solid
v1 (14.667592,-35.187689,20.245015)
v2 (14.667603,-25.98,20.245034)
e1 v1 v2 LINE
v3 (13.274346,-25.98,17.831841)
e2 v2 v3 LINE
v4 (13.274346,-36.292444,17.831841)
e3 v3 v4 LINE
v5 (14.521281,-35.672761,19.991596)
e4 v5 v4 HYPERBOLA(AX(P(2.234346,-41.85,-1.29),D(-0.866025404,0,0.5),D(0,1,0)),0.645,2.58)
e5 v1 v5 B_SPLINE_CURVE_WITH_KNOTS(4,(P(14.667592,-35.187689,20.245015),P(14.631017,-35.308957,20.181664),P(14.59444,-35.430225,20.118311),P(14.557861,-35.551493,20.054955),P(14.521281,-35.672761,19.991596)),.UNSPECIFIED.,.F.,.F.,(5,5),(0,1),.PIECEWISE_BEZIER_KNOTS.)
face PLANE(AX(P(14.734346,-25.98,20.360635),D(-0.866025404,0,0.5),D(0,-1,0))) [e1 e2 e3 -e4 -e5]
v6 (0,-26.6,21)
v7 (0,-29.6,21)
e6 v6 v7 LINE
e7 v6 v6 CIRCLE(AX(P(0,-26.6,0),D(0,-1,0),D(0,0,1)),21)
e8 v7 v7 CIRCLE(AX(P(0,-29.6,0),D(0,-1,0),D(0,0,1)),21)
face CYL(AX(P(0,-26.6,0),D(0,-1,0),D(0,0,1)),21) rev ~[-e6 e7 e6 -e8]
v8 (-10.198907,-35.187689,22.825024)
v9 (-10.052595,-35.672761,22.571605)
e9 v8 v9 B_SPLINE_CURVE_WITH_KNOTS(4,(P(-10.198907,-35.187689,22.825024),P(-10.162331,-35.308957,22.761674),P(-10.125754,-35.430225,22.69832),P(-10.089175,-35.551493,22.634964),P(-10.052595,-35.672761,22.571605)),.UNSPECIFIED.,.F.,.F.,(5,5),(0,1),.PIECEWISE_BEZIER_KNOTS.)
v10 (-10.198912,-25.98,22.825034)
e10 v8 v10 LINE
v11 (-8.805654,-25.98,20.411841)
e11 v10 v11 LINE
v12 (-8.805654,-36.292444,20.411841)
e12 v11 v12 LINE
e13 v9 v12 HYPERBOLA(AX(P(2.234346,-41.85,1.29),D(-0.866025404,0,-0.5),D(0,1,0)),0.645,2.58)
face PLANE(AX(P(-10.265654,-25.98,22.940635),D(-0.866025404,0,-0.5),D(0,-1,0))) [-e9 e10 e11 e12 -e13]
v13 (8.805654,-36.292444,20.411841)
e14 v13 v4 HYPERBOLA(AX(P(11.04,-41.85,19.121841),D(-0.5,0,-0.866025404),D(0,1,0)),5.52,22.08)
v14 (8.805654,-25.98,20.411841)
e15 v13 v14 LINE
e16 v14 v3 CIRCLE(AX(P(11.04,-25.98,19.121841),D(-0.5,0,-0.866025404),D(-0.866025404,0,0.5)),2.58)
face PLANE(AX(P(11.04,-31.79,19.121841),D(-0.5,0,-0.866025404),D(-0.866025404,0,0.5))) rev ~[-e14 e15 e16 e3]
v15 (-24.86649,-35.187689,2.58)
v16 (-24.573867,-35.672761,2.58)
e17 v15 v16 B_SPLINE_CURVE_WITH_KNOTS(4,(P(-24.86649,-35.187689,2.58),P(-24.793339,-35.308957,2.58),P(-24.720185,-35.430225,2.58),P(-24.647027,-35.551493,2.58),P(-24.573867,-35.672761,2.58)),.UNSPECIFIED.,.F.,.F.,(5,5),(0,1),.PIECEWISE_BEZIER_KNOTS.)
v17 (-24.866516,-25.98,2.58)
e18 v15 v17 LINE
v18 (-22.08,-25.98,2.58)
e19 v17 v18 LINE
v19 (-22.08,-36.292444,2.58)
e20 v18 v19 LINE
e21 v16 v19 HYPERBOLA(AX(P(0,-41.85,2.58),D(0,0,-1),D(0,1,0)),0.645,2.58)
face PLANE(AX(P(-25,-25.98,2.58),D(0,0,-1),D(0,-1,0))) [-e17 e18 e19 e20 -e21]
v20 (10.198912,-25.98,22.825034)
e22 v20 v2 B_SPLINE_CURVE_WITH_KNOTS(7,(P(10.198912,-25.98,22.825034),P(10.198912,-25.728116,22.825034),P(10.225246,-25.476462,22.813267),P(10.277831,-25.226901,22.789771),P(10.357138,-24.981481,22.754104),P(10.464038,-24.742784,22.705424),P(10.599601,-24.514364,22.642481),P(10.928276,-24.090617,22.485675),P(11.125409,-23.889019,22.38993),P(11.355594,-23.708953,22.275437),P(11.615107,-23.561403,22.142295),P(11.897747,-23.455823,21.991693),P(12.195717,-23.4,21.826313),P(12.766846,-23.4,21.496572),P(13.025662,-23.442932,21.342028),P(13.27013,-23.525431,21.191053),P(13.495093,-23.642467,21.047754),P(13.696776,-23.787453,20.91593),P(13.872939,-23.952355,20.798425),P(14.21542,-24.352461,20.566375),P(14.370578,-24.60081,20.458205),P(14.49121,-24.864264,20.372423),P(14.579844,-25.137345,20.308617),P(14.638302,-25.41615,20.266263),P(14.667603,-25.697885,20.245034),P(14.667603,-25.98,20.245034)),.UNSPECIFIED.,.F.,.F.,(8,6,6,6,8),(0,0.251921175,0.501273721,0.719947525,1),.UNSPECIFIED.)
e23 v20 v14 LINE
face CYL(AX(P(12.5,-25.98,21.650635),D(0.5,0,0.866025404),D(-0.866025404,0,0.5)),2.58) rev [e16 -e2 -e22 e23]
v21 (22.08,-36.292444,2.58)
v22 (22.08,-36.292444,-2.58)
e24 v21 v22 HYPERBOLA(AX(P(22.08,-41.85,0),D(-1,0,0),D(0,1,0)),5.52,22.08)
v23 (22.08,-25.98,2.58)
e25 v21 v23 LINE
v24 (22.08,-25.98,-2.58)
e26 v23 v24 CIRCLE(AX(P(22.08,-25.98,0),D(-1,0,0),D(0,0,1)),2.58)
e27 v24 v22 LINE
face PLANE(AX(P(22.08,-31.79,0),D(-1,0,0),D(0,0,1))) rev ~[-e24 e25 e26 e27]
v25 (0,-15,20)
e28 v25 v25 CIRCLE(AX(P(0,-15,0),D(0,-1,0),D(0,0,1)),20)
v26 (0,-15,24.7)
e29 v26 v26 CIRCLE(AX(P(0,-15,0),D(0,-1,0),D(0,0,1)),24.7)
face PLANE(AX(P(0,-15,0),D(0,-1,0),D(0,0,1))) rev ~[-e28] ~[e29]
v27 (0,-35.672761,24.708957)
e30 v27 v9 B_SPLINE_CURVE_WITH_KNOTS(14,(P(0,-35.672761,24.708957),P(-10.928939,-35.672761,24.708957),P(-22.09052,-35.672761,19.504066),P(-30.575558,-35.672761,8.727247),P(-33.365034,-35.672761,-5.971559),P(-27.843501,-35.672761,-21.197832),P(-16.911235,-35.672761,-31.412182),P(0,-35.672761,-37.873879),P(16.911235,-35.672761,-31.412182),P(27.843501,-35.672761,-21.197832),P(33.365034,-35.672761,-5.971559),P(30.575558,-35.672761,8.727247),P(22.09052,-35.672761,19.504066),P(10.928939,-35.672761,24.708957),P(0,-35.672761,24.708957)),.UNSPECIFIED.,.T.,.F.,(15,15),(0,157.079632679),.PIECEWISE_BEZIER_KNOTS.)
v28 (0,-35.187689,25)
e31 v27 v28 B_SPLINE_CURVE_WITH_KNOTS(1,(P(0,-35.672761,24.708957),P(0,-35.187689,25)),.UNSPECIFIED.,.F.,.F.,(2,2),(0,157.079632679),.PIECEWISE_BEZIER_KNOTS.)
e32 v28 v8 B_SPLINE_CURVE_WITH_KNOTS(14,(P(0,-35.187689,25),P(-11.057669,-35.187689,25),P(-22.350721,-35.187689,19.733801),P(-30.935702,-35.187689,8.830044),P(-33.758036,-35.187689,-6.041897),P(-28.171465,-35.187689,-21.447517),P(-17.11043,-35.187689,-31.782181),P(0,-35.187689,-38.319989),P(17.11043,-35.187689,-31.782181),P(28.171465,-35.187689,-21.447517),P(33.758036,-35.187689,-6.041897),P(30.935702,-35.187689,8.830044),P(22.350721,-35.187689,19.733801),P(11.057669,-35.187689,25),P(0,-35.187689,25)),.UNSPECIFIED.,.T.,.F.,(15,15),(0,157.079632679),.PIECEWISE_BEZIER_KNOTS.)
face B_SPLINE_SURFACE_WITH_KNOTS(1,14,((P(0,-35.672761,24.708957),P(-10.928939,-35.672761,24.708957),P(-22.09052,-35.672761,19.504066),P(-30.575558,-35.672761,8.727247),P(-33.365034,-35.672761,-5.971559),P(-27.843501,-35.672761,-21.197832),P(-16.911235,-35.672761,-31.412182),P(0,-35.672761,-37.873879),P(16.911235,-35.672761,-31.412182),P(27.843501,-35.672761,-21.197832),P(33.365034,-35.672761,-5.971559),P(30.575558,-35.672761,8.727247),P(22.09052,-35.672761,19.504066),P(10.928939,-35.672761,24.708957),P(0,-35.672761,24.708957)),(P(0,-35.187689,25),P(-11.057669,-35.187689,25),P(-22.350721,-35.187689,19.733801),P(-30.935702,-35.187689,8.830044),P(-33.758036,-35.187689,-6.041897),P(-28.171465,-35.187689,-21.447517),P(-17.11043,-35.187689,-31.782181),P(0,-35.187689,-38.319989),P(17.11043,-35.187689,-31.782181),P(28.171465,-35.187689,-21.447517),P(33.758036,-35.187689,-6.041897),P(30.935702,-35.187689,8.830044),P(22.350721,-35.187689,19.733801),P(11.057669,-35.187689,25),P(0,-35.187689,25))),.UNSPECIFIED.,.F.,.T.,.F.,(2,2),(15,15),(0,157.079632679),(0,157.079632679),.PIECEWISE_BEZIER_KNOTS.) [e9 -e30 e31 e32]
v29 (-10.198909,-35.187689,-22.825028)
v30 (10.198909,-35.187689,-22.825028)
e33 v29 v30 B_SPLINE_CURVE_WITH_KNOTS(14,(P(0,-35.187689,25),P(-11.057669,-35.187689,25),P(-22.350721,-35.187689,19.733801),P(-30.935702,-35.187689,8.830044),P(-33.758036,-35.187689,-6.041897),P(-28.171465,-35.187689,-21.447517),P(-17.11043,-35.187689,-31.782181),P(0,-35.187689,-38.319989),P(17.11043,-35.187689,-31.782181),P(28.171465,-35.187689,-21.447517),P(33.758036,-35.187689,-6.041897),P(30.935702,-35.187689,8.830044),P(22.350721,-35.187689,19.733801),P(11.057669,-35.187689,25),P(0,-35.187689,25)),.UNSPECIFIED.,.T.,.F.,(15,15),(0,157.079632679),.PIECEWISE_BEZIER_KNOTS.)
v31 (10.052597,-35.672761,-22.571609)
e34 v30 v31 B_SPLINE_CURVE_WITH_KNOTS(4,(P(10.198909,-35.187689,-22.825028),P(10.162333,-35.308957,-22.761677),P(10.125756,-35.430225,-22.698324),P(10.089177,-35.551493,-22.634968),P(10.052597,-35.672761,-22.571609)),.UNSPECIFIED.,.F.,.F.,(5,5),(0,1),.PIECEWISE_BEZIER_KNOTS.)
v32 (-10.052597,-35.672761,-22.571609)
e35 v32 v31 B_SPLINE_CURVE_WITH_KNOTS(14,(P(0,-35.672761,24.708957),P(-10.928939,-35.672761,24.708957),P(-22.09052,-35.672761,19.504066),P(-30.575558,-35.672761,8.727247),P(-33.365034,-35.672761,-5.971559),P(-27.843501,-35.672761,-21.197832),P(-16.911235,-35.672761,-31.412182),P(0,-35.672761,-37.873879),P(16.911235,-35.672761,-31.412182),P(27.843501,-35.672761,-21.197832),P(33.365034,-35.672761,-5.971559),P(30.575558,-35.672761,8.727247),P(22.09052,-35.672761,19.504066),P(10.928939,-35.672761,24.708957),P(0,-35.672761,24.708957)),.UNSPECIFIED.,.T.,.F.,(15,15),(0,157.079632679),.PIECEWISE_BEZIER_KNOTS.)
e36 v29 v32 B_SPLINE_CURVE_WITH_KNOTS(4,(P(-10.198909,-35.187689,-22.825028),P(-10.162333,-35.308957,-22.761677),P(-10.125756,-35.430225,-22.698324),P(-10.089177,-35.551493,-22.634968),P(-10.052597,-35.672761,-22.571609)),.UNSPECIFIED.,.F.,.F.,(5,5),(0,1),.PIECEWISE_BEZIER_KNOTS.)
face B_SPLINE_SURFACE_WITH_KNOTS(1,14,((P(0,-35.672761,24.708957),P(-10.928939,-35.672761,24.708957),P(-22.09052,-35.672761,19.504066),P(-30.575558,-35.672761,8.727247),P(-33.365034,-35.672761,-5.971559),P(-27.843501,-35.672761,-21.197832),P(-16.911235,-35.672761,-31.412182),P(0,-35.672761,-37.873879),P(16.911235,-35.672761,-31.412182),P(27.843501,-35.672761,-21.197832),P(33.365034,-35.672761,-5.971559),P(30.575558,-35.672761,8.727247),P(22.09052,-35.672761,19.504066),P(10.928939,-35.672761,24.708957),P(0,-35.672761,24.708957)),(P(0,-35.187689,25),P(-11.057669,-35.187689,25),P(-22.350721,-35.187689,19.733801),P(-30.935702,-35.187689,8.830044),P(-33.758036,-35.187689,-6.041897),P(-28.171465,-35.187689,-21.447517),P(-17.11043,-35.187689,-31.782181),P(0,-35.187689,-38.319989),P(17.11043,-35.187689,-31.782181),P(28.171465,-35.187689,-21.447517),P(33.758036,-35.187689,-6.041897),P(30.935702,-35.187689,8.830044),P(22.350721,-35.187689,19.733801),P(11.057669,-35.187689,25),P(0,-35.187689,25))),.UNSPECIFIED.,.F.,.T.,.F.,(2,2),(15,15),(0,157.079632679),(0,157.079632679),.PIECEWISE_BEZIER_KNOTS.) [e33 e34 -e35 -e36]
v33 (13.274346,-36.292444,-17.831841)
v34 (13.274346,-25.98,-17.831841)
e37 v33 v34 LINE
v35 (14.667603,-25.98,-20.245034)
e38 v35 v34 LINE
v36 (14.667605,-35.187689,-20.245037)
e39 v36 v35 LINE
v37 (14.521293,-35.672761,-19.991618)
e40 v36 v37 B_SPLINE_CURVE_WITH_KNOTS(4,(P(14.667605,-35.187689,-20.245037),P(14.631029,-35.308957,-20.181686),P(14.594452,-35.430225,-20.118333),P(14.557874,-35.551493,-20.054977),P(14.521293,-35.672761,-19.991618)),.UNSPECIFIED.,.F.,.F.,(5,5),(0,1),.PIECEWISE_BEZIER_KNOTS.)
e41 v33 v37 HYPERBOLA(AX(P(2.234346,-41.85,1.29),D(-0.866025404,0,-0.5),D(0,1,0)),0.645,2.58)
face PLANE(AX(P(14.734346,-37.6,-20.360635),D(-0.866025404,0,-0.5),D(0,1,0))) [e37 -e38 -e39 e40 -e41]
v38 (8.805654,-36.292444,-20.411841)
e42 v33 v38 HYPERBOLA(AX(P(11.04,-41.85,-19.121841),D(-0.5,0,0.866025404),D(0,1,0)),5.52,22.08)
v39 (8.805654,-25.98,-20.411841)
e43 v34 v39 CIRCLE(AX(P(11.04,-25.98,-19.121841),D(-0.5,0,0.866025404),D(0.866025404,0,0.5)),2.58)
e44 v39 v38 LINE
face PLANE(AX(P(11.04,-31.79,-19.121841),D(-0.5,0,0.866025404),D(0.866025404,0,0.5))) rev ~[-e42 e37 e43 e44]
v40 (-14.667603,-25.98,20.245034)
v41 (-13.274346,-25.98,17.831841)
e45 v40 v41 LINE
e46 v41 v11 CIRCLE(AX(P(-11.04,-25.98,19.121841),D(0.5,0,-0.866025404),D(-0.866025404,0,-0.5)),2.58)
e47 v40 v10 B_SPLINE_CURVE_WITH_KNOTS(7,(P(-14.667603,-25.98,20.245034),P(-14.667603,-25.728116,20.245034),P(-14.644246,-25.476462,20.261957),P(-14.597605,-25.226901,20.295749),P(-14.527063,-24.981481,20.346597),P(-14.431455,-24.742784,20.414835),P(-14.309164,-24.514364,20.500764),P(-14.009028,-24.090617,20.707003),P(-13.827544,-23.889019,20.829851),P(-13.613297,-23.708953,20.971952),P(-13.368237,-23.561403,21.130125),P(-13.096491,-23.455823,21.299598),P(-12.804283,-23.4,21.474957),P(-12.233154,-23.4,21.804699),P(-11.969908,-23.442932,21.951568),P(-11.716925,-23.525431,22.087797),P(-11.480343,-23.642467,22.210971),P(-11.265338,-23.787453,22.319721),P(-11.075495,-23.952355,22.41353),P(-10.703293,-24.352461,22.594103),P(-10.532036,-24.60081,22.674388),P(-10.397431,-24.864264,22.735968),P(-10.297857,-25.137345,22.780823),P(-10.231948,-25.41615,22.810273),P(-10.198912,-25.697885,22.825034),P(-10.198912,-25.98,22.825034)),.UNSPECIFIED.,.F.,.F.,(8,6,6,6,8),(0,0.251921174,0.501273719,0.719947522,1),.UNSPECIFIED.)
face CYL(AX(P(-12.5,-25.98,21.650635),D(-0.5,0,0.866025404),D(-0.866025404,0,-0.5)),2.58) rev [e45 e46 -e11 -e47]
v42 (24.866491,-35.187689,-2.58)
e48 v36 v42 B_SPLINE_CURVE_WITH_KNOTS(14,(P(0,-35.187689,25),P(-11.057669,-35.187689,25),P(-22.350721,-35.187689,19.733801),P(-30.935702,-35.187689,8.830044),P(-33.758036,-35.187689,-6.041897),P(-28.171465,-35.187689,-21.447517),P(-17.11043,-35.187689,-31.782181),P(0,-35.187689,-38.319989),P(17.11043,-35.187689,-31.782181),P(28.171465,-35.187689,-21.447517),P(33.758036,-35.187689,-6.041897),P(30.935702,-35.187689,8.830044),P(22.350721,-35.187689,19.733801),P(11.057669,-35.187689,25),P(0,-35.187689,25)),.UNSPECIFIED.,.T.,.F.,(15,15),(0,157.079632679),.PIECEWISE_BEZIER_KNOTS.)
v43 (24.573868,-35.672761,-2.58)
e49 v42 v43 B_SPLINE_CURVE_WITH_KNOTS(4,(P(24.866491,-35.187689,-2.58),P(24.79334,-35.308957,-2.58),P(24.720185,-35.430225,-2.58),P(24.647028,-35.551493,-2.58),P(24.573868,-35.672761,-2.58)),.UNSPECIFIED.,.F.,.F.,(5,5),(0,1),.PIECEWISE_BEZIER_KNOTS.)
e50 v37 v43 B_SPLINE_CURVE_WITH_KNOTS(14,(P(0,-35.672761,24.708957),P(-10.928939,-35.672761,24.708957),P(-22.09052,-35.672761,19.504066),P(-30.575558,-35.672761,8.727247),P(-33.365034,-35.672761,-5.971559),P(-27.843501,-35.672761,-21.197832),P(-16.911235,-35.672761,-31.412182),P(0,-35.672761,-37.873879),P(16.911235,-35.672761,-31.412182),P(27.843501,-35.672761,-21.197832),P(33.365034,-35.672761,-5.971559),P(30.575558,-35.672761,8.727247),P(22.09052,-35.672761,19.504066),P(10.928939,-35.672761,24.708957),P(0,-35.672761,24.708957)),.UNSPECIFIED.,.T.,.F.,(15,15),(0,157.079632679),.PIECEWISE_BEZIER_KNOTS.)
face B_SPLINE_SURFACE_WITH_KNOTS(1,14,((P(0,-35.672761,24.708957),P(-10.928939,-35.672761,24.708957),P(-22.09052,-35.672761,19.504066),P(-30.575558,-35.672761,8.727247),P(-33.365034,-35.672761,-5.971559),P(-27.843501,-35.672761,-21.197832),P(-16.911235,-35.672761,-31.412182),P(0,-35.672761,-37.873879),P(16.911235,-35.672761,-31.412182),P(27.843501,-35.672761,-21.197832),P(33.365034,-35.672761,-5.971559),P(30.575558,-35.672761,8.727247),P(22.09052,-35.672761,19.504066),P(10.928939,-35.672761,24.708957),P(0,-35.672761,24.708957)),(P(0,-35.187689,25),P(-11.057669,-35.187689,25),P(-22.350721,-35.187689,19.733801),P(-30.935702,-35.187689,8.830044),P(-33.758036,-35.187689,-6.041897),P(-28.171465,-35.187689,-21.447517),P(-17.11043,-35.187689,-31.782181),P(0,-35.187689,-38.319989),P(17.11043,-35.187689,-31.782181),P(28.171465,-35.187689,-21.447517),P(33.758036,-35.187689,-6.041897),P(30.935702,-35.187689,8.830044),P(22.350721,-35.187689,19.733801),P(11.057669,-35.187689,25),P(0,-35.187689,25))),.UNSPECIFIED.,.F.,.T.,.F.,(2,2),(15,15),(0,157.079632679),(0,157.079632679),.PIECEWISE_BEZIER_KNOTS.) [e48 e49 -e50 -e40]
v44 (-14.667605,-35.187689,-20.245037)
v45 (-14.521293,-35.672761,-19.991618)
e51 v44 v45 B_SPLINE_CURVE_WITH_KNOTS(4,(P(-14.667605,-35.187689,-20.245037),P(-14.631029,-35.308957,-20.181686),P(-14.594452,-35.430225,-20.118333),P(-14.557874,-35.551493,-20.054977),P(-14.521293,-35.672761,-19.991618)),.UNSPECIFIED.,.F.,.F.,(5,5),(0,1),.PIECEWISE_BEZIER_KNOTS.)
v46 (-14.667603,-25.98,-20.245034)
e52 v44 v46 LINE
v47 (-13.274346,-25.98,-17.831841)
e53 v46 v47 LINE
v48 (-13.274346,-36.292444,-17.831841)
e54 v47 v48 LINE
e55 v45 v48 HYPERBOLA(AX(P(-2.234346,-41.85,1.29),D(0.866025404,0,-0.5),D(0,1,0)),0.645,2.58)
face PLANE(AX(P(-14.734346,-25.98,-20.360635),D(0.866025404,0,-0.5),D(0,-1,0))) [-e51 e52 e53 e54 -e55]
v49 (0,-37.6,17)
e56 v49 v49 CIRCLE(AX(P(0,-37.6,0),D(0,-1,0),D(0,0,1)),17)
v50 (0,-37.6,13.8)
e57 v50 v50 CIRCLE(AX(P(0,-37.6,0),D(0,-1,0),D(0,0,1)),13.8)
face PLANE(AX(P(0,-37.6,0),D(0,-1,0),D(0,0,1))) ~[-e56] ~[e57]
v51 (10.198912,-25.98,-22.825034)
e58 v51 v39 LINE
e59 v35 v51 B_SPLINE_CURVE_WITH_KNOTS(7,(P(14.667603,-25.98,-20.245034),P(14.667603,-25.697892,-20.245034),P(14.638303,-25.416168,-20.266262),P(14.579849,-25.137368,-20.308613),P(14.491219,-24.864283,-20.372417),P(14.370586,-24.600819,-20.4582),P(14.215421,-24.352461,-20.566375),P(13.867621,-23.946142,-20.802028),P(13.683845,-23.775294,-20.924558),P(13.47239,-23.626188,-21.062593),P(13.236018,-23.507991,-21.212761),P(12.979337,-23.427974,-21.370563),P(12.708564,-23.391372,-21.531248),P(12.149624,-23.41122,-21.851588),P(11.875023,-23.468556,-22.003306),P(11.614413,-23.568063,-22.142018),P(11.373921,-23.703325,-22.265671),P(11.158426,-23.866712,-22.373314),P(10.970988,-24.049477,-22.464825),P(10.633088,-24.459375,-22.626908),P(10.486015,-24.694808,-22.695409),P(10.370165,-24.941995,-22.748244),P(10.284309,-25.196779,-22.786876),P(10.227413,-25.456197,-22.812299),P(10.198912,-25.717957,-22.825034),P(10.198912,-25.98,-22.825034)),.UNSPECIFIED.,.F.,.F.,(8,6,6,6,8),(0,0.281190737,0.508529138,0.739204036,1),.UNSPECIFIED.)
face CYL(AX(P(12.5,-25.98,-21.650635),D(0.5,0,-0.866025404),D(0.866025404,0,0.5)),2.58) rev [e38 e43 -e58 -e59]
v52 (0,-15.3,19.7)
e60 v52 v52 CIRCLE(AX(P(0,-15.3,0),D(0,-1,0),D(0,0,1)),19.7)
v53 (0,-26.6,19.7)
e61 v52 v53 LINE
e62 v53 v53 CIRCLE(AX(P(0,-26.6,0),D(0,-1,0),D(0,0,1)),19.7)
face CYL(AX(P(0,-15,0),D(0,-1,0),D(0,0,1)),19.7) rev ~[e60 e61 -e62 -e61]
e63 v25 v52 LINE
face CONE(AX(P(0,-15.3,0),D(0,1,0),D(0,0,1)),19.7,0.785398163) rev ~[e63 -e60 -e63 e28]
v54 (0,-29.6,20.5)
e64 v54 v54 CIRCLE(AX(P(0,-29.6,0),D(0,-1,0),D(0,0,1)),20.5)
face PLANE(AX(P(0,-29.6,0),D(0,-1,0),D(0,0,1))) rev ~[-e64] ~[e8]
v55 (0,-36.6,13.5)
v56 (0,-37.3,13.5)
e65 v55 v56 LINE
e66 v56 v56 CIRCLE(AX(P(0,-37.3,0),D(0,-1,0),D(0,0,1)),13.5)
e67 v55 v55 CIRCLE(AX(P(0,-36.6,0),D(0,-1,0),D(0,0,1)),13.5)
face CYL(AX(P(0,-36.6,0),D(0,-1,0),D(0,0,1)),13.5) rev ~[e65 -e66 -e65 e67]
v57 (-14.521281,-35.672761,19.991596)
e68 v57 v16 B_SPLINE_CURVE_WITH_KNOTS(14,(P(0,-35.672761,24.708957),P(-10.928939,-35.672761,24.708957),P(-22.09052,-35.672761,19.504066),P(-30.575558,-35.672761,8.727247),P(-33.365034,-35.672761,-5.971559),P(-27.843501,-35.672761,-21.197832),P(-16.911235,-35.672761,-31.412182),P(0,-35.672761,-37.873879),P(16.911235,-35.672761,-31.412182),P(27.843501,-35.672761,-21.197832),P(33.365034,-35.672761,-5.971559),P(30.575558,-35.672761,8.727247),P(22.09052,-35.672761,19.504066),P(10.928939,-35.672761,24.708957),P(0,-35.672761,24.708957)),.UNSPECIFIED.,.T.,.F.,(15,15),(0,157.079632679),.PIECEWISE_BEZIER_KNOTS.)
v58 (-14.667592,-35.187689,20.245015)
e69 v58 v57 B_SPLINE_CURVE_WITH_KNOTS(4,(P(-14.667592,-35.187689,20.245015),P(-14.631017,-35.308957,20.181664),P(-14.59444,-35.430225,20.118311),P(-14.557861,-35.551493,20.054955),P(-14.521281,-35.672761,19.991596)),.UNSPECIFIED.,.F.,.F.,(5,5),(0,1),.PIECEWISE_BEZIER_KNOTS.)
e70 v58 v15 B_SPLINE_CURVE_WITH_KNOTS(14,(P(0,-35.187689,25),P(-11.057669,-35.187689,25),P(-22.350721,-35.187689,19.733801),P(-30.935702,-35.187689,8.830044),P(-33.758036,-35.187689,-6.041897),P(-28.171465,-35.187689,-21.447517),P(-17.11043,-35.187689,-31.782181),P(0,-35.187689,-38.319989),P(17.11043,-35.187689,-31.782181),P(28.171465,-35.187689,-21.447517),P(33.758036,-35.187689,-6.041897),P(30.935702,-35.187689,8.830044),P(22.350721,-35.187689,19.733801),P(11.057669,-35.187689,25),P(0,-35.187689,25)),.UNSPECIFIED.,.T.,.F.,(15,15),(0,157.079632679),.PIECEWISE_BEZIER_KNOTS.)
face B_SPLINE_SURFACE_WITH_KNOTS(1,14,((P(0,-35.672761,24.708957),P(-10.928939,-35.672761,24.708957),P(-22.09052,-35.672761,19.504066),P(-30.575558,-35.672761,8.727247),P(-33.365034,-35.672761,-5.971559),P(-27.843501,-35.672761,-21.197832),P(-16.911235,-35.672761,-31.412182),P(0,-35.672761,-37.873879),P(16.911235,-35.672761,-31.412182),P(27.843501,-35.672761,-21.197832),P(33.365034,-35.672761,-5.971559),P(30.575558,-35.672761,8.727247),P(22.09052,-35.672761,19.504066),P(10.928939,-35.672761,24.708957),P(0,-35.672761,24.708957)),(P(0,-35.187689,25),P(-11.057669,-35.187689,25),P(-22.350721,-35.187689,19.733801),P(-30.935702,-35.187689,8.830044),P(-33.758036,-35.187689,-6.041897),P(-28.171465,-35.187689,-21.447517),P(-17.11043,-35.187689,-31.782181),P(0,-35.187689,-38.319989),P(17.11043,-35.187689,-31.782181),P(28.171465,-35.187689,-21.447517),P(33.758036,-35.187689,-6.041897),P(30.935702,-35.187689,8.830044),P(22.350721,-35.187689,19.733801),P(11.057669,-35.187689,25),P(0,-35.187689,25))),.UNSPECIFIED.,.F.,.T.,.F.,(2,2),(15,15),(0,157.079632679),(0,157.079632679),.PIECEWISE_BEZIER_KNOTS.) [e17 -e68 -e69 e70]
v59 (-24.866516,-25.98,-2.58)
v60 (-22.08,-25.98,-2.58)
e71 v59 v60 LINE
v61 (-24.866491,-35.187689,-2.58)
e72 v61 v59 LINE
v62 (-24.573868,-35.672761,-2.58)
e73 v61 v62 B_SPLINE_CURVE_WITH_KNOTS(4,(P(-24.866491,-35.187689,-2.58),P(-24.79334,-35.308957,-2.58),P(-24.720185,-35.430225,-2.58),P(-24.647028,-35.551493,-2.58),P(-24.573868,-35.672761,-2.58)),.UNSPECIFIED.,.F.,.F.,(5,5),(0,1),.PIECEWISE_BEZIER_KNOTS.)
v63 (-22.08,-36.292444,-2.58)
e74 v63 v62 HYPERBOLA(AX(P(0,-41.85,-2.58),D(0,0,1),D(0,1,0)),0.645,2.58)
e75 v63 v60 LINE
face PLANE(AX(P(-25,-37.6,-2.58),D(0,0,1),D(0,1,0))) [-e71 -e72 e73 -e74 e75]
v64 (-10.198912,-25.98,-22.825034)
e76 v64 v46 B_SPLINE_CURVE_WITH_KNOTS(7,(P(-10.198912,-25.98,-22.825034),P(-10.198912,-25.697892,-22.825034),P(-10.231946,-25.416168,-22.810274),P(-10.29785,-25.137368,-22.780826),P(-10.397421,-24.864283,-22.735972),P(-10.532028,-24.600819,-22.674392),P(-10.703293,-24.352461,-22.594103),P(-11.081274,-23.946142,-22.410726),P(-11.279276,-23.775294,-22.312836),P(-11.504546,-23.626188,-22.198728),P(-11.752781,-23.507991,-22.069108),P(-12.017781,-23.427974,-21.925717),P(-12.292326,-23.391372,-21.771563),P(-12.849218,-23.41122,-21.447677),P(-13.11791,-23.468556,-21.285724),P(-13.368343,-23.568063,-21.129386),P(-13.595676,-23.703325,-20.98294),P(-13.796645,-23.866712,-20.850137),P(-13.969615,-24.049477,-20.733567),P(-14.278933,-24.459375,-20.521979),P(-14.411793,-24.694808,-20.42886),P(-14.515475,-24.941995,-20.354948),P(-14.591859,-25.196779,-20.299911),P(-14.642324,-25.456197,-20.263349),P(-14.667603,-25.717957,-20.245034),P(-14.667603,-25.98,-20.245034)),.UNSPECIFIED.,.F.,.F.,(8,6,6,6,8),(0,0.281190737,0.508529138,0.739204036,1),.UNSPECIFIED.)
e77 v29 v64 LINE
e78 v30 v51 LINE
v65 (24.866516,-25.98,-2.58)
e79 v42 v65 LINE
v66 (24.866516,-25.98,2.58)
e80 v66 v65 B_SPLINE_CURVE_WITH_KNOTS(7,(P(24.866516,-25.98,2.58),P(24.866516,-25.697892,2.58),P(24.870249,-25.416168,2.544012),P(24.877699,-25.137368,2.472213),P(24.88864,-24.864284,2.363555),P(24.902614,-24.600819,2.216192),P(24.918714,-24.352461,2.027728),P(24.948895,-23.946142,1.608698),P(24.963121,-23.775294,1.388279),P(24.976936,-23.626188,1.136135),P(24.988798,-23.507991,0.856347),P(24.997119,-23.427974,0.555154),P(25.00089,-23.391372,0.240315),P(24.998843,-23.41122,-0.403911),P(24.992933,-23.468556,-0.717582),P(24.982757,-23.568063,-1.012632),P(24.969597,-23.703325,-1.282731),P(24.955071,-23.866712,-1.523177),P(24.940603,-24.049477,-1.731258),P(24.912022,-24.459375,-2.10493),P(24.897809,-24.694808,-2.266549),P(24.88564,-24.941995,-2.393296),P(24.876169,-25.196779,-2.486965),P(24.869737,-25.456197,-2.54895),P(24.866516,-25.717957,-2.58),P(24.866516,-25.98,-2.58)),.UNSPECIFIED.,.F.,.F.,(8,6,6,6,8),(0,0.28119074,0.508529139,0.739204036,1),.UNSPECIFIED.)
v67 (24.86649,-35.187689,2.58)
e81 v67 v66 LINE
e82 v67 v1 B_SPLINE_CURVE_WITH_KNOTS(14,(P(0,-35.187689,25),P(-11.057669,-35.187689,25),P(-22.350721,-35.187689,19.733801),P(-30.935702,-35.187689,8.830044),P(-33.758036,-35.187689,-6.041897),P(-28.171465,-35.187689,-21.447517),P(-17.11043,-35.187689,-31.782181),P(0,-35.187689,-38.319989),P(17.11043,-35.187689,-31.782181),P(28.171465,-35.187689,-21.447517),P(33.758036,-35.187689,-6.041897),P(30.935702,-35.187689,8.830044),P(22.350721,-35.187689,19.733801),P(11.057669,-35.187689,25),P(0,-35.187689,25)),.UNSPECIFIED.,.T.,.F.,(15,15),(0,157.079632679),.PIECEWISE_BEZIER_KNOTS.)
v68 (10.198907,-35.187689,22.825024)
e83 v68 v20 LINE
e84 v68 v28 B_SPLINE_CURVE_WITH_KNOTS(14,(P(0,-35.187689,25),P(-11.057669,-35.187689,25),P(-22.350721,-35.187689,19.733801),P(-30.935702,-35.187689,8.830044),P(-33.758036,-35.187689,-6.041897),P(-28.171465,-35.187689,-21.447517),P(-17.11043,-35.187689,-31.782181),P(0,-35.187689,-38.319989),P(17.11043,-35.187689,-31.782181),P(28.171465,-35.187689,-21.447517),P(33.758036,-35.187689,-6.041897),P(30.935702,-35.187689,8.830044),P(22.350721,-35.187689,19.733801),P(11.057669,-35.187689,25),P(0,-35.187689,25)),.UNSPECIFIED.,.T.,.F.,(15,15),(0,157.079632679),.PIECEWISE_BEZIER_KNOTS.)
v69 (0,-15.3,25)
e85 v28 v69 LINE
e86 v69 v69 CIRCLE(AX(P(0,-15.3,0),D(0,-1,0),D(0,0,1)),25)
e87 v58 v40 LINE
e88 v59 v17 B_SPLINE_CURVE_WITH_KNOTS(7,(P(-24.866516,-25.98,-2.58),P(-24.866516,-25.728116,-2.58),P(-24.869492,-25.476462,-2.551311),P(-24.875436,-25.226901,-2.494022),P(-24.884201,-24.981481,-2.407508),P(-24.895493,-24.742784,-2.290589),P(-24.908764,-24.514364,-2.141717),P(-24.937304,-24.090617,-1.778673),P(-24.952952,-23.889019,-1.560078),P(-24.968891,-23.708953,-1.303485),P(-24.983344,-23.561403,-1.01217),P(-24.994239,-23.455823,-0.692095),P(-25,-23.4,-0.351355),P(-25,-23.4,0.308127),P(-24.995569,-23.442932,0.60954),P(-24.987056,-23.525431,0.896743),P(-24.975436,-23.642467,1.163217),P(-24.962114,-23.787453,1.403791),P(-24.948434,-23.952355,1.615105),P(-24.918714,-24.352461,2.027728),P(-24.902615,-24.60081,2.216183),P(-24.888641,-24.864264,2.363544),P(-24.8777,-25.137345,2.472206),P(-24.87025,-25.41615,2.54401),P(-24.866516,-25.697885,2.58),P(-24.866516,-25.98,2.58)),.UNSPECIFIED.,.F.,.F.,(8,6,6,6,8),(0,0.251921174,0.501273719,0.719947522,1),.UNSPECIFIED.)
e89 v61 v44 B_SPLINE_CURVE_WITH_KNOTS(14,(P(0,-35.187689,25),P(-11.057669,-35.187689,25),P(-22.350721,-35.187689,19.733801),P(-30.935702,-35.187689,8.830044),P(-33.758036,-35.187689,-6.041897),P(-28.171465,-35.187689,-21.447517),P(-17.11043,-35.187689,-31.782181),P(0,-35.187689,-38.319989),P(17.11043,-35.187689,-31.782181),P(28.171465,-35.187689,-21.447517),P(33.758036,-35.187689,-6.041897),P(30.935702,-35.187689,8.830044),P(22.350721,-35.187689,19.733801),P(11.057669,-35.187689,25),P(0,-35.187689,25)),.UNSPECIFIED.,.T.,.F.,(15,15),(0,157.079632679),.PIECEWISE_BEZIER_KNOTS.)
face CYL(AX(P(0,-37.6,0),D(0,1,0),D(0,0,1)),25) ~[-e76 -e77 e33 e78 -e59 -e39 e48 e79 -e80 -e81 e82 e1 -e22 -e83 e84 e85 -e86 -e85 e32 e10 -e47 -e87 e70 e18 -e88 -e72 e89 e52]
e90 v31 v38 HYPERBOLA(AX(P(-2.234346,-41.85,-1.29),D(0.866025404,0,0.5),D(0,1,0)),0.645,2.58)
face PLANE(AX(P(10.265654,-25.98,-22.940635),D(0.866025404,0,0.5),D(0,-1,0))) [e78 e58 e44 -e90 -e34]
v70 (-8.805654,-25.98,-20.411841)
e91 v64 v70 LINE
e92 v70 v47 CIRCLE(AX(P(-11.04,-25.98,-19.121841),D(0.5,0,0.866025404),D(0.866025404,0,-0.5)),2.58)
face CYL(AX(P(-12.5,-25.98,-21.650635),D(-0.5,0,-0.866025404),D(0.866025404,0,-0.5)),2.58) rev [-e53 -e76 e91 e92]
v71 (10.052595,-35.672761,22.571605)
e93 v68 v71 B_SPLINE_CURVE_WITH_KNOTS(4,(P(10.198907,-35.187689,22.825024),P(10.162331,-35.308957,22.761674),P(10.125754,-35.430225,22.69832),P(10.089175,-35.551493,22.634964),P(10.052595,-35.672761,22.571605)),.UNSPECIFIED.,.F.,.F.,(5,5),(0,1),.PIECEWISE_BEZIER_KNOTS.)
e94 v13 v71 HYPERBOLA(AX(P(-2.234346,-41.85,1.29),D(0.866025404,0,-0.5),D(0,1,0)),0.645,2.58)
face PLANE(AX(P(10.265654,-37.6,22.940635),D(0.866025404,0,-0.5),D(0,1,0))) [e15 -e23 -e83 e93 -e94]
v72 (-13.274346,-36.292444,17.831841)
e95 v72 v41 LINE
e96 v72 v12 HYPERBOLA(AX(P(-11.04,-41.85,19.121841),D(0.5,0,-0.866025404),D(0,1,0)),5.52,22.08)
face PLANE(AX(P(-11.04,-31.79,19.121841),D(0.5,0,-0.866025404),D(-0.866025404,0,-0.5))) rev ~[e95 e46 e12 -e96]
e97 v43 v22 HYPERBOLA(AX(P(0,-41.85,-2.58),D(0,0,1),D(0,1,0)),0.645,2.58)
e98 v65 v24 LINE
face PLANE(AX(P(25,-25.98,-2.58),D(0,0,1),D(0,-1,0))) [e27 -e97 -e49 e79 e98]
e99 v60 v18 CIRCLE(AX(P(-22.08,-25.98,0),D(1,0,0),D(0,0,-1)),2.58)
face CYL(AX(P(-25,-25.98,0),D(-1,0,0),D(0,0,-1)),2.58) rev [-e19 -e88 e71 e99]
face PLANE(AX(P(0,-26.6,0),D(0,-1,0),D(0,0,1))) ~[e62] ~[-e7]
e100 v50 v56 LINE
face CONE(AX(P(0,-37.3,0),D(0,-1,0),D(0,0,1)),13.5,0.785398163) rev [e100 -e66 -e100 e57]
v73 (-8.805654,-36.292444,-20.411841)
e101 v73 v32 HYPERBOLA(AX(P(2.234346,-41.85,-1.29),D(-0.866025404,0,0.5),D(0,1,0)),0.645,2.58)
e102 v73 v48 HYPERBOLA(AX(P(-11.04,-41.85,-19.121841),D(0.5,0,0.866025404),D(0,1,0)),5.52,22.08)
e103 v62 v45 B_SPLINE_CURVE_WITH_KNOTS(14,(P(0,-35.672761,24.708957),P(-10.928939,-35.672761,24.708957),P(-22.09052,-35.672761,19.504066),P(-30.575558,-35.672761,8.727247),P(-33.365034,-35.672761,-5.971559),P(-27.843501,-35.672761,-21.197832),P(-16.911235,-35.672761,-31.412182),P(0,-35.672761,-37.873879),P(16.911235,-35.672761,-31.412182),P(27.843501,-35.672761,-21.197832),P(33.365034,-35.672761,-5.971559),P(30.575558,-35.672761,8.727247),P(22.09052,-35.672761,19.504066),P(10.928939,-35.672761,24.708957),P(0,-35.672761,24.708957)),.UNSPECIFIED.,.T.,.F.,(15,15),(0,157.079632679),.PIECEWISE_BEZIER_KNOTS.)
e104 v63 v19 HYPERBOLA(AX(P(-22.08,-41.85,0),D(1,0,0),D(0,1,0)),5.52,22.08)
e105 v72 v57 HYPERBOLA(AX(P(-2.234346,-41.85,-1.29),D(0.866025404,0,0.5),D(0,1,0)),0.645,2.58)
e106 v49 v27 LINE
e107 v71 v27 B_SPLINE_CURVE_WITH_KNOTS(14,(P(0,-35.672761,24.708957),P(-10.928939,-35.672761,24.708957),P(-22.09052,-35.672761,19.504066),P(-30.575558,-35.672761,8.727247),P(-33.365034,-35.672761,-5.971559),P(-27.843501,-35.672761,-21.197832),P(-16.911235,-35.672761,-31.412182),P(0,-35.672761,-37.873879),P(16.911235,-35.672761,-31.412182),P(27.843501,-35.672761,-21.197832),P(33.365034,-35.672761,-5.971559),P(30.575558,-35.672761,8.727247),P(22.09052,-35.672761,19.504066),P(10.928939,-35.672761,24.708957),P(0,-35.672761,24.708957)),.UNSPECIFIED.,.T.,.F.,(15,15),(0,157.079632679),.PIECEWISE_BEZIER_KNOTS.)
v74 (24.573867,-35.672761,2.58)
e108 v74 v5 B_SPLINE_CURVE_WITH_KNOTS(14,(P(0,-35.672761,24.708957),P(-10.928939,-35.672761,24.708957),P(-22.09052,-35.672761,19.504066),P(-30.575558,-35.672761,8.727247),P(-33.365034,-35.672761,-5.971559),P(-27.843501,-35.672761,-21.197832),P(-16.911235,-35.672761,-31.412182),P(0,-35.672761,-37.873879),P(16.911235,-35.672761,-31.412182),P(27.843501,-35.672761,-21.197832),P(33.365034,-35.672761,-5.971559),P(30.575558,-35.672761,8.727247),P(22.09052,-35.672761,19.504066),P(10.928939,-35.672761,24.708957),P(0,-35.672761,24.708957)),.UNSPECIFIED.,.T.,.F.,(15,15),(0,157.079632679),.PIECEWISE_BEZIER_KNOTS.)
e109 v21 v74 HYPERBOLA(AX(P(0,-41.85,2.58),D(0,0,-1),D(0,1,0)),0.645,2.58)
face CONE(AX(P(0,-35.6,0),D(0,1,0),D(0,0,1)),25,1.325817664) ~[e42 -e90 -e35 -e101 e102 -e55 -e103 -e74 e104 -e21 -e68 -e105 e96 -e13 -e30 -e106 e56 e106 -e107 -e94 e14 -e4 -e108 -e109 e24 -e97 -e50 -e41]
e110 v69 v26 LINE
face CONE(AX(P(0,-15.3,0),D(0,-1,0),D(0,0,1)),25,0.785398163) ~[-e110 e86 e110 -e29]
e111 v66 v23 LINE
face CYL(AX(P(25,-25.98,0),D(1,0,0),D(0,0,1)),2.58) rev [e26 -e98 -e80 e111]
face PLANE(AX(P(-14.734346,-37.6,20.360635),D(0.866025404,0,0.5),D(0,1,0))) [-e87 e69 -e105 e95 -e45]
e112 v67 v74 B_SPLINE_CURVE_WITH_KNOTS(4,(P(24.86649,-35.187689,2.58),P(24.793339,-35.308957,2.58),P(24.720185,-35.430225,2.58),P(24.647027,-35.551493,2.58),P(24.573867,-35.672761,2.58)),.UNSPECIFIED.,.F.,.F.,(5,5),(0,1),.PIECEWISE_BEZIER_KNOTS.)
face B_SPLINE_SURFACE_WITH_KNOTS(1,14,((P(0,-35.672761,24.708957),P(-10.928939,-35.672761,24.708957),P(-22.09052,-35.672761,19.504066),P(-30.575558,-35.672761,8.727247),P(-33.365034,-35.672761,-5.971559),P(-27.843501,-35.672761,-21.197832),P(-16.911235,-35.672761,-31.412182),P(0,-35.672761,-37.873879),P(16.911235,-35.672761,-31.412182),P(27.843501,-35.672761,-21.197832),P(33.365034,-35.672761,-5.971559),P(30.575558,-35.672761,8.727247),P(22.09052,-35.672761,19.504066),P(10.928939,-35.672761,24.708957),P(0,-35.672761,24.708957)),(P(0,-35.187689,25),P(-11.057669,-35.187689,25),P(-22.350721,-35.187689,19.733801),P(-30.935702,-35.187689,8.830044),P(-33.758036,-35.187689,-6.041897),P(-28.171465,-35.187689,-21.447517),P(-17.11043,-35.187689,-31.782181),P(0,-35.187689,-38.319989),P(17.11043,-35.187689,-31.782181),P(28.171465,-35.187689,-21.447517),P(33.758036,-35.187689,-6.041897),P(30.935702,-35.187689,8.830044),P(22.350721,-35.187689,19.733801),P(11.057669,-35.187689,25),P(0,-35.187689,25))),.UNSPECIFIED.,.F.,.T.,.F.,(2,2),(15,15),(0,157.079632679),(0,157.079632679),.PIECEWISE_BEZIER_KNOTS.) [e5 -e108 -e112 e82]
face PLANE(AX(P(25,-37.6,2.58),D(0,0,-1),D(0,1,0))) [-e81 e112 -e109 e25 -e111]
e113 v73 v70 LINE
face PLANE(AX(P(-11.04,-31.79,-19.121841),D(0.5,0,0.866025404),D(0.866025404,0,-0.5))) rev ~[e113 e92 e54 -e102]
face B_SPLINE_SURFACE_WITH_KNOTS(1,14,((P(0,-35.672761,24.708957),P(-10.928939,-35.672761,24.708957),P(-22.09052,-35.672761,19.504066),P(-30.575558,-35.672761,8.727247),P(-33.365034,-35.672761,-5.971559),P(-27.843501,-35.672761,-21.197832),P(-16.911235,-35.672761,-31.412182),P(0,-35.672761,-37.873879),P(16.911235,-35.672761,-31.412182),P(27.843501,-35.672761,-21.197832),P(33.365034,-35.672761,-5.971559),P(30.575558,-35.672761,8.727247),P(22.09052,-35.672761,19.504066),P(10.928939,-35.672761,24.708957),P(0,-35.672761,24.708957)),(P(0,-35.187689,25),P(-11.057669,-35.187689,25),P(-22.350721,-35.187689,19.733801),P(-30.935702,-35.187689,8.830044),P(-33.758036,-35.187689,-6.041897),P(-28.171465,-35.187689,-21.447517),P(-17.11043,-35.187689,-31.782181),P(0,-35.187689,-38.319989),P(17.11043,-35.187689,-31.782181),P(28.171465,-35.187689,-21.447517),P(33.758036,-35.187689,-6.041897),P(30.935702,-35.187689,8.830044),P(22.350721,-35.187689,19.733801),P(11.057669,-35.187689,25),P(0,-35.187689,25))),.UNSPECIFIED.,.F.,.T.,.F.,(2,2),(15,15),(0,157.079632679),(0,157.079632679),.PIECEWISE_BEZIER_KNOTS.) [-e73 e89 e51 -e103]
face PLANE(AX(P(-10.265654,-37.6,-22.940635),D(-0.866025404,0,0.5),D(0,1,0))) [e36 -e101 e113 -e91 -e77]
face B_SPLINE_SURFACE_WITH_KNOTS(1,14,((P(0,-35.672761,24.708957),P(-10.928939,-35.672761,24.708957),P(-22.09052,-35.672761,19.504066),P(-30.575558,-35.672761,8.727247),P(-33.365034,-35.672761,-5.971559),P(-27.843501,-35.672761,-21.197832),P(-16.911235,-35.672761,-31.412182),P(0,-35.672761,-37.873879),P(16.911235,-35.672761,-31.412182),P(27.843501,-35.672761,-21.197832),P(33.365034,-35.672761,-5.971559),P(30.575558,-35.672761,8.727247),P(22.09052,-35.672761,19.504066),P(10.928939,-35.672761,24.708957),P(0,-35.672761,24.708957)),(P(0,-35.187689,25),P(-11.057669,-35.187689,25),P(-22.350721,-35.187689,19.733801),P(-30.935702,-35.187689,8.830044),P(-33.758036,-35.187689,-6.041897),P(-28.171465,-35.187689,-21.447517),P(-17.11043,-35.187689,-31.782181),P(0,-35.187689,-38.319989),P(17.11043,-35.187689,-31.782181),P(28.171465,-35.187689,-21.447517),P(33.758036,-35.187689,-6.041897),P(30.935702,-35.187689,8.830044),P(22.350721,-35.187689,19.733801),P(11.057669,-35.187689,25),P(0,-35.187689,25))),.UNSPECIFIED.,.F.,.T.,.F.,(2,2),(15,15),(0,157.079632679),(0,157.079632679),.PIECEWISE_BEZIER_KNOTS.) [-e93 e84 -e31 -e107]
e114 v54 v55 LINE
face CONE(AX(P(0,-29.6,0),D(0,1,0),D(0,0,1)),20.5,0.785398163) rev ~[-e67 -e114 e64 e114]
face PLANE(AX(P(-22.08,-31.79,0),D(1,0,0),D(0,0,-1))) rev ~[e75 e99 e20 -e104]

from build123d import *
from OCP.BRepFilletAPI import BRepFilletAPI_MakeChamfer

# Parameters (mm, degrees)
CHAMFER1_SIZE      = 8
CHAMFER1_SIZE2     = 2
CHAMFER2_SIZE      = 0.3
CHAMFER2_SIZE2     = 0.412310563
CUT_EXTRUDE1_DEPTH = 2.92
CIRPATTERN1_COUNT  = 6


with BuildPart() as part:
    # Sketch1 → Revolve1 (revolve)
    with BuildSketch(Plane.XY, mode=Mode.PRIVATE) as revolve1_sk:
        Polygon((19.7, -15), (19.7, -26.6), (21, -26.6), (21, -29.6), (20.5, -29.6), (13.5, -36.6), (13.5, -37.6), (25, -37.6), (25, -15), align=None)
    revolve(revolve1_sk.sketch.rotate(Axis((0, 0, 0), (0, -1, 0)), 90), axis=Axis((0, 0, 0), (0, -1, 0)))

    # Chamfer1
    chamfer1_edges = [part.edges().sort_by_distance(p)[0] for p in [
        (0, -37.6, -25),
    ]]
    chamfer1_side = [part.faces().sort_by_distance(p)[0] for p in [
        (0, -37.6, -14.207106781),
    ]]
    chamfer(chamfer1_edges, length=CHAMFER1_SIZE, length2=CHAMFER1_SIZE2, reference=chamfer1_side[0])

    # Chamfer2: one chamfer whose edges measure the first distance from different faces: ONE call of the kernel's chamfer builder (chamfer() names one face for all edges)
    chamfer2_edges_1 = [part.edges().sort_by_distance(p)[0] for p in [
        (0, -35.6, -25),
    ]]
    chamfer2_side_1 = [part.faces().sort_by_distance(p)[0] for p in [
        (0, -36.6, -21),
    ]]
    chamfer2_edges_2 = [part.edges().sort_by_distance(p)[0] for p in [
        (0, -37.6, -13.5),
        (0, -15, -25),
        (0, -15, -19.7),
    ]]
    chamfer2 = BRepFilletAPI_MakeChamfer(part.part.solid().wrapped)
    for e in chamfer2_edges_1:
        chamfer2.Add(CHAMFER2_SIZE, CHAMFER2_SIZE2, e.wrapped, chamfer2_side_1[0].wrapped)  # the first distance lies on this face
    for e in chamfer2_edges_2:
        chamfer2.Add(CHAMFER2_SIZE, e.wrapped)
    add(Compound.cast(chamfer2.Shape()), mode=Mode.REPLACE)

    # Sketch4 → Cut-Extrude1 (cut)
    with BuildSketch(Plane.ZY.offset(25)):
        with BuildLine():
            Line((-2.58, -37.6), (-2.58, -25.98))
            ThreePointArc((-2.58, -25.98), (0, -23.4), (2.58, -25.98))
            Line((2.58, -25.98), (2.58, -37.6))
            ThreePointArc((2.58, -37.6), (0, -40.18), (-2.58, -37.6))
        make_face()
    cut_extrude1 = extrude(amount=-CUT_EXTRUDE1_DEPTH, mode=Mode.SUBTRACT)

    # CirPattern1: Cut-Extrude1 ×6 about axis
    cirpattern1_axis = Axis((0, 0, 0), (0, 1, 0))
    for i in range(1, CIRPATTERN1_COUNT):
        add(cut_extrude1.rotate(cirpattern1_axis, i * 360 / CIRPATTERN1_COUNT), mode=Mode.SUBTRACT)


solid = part.part
